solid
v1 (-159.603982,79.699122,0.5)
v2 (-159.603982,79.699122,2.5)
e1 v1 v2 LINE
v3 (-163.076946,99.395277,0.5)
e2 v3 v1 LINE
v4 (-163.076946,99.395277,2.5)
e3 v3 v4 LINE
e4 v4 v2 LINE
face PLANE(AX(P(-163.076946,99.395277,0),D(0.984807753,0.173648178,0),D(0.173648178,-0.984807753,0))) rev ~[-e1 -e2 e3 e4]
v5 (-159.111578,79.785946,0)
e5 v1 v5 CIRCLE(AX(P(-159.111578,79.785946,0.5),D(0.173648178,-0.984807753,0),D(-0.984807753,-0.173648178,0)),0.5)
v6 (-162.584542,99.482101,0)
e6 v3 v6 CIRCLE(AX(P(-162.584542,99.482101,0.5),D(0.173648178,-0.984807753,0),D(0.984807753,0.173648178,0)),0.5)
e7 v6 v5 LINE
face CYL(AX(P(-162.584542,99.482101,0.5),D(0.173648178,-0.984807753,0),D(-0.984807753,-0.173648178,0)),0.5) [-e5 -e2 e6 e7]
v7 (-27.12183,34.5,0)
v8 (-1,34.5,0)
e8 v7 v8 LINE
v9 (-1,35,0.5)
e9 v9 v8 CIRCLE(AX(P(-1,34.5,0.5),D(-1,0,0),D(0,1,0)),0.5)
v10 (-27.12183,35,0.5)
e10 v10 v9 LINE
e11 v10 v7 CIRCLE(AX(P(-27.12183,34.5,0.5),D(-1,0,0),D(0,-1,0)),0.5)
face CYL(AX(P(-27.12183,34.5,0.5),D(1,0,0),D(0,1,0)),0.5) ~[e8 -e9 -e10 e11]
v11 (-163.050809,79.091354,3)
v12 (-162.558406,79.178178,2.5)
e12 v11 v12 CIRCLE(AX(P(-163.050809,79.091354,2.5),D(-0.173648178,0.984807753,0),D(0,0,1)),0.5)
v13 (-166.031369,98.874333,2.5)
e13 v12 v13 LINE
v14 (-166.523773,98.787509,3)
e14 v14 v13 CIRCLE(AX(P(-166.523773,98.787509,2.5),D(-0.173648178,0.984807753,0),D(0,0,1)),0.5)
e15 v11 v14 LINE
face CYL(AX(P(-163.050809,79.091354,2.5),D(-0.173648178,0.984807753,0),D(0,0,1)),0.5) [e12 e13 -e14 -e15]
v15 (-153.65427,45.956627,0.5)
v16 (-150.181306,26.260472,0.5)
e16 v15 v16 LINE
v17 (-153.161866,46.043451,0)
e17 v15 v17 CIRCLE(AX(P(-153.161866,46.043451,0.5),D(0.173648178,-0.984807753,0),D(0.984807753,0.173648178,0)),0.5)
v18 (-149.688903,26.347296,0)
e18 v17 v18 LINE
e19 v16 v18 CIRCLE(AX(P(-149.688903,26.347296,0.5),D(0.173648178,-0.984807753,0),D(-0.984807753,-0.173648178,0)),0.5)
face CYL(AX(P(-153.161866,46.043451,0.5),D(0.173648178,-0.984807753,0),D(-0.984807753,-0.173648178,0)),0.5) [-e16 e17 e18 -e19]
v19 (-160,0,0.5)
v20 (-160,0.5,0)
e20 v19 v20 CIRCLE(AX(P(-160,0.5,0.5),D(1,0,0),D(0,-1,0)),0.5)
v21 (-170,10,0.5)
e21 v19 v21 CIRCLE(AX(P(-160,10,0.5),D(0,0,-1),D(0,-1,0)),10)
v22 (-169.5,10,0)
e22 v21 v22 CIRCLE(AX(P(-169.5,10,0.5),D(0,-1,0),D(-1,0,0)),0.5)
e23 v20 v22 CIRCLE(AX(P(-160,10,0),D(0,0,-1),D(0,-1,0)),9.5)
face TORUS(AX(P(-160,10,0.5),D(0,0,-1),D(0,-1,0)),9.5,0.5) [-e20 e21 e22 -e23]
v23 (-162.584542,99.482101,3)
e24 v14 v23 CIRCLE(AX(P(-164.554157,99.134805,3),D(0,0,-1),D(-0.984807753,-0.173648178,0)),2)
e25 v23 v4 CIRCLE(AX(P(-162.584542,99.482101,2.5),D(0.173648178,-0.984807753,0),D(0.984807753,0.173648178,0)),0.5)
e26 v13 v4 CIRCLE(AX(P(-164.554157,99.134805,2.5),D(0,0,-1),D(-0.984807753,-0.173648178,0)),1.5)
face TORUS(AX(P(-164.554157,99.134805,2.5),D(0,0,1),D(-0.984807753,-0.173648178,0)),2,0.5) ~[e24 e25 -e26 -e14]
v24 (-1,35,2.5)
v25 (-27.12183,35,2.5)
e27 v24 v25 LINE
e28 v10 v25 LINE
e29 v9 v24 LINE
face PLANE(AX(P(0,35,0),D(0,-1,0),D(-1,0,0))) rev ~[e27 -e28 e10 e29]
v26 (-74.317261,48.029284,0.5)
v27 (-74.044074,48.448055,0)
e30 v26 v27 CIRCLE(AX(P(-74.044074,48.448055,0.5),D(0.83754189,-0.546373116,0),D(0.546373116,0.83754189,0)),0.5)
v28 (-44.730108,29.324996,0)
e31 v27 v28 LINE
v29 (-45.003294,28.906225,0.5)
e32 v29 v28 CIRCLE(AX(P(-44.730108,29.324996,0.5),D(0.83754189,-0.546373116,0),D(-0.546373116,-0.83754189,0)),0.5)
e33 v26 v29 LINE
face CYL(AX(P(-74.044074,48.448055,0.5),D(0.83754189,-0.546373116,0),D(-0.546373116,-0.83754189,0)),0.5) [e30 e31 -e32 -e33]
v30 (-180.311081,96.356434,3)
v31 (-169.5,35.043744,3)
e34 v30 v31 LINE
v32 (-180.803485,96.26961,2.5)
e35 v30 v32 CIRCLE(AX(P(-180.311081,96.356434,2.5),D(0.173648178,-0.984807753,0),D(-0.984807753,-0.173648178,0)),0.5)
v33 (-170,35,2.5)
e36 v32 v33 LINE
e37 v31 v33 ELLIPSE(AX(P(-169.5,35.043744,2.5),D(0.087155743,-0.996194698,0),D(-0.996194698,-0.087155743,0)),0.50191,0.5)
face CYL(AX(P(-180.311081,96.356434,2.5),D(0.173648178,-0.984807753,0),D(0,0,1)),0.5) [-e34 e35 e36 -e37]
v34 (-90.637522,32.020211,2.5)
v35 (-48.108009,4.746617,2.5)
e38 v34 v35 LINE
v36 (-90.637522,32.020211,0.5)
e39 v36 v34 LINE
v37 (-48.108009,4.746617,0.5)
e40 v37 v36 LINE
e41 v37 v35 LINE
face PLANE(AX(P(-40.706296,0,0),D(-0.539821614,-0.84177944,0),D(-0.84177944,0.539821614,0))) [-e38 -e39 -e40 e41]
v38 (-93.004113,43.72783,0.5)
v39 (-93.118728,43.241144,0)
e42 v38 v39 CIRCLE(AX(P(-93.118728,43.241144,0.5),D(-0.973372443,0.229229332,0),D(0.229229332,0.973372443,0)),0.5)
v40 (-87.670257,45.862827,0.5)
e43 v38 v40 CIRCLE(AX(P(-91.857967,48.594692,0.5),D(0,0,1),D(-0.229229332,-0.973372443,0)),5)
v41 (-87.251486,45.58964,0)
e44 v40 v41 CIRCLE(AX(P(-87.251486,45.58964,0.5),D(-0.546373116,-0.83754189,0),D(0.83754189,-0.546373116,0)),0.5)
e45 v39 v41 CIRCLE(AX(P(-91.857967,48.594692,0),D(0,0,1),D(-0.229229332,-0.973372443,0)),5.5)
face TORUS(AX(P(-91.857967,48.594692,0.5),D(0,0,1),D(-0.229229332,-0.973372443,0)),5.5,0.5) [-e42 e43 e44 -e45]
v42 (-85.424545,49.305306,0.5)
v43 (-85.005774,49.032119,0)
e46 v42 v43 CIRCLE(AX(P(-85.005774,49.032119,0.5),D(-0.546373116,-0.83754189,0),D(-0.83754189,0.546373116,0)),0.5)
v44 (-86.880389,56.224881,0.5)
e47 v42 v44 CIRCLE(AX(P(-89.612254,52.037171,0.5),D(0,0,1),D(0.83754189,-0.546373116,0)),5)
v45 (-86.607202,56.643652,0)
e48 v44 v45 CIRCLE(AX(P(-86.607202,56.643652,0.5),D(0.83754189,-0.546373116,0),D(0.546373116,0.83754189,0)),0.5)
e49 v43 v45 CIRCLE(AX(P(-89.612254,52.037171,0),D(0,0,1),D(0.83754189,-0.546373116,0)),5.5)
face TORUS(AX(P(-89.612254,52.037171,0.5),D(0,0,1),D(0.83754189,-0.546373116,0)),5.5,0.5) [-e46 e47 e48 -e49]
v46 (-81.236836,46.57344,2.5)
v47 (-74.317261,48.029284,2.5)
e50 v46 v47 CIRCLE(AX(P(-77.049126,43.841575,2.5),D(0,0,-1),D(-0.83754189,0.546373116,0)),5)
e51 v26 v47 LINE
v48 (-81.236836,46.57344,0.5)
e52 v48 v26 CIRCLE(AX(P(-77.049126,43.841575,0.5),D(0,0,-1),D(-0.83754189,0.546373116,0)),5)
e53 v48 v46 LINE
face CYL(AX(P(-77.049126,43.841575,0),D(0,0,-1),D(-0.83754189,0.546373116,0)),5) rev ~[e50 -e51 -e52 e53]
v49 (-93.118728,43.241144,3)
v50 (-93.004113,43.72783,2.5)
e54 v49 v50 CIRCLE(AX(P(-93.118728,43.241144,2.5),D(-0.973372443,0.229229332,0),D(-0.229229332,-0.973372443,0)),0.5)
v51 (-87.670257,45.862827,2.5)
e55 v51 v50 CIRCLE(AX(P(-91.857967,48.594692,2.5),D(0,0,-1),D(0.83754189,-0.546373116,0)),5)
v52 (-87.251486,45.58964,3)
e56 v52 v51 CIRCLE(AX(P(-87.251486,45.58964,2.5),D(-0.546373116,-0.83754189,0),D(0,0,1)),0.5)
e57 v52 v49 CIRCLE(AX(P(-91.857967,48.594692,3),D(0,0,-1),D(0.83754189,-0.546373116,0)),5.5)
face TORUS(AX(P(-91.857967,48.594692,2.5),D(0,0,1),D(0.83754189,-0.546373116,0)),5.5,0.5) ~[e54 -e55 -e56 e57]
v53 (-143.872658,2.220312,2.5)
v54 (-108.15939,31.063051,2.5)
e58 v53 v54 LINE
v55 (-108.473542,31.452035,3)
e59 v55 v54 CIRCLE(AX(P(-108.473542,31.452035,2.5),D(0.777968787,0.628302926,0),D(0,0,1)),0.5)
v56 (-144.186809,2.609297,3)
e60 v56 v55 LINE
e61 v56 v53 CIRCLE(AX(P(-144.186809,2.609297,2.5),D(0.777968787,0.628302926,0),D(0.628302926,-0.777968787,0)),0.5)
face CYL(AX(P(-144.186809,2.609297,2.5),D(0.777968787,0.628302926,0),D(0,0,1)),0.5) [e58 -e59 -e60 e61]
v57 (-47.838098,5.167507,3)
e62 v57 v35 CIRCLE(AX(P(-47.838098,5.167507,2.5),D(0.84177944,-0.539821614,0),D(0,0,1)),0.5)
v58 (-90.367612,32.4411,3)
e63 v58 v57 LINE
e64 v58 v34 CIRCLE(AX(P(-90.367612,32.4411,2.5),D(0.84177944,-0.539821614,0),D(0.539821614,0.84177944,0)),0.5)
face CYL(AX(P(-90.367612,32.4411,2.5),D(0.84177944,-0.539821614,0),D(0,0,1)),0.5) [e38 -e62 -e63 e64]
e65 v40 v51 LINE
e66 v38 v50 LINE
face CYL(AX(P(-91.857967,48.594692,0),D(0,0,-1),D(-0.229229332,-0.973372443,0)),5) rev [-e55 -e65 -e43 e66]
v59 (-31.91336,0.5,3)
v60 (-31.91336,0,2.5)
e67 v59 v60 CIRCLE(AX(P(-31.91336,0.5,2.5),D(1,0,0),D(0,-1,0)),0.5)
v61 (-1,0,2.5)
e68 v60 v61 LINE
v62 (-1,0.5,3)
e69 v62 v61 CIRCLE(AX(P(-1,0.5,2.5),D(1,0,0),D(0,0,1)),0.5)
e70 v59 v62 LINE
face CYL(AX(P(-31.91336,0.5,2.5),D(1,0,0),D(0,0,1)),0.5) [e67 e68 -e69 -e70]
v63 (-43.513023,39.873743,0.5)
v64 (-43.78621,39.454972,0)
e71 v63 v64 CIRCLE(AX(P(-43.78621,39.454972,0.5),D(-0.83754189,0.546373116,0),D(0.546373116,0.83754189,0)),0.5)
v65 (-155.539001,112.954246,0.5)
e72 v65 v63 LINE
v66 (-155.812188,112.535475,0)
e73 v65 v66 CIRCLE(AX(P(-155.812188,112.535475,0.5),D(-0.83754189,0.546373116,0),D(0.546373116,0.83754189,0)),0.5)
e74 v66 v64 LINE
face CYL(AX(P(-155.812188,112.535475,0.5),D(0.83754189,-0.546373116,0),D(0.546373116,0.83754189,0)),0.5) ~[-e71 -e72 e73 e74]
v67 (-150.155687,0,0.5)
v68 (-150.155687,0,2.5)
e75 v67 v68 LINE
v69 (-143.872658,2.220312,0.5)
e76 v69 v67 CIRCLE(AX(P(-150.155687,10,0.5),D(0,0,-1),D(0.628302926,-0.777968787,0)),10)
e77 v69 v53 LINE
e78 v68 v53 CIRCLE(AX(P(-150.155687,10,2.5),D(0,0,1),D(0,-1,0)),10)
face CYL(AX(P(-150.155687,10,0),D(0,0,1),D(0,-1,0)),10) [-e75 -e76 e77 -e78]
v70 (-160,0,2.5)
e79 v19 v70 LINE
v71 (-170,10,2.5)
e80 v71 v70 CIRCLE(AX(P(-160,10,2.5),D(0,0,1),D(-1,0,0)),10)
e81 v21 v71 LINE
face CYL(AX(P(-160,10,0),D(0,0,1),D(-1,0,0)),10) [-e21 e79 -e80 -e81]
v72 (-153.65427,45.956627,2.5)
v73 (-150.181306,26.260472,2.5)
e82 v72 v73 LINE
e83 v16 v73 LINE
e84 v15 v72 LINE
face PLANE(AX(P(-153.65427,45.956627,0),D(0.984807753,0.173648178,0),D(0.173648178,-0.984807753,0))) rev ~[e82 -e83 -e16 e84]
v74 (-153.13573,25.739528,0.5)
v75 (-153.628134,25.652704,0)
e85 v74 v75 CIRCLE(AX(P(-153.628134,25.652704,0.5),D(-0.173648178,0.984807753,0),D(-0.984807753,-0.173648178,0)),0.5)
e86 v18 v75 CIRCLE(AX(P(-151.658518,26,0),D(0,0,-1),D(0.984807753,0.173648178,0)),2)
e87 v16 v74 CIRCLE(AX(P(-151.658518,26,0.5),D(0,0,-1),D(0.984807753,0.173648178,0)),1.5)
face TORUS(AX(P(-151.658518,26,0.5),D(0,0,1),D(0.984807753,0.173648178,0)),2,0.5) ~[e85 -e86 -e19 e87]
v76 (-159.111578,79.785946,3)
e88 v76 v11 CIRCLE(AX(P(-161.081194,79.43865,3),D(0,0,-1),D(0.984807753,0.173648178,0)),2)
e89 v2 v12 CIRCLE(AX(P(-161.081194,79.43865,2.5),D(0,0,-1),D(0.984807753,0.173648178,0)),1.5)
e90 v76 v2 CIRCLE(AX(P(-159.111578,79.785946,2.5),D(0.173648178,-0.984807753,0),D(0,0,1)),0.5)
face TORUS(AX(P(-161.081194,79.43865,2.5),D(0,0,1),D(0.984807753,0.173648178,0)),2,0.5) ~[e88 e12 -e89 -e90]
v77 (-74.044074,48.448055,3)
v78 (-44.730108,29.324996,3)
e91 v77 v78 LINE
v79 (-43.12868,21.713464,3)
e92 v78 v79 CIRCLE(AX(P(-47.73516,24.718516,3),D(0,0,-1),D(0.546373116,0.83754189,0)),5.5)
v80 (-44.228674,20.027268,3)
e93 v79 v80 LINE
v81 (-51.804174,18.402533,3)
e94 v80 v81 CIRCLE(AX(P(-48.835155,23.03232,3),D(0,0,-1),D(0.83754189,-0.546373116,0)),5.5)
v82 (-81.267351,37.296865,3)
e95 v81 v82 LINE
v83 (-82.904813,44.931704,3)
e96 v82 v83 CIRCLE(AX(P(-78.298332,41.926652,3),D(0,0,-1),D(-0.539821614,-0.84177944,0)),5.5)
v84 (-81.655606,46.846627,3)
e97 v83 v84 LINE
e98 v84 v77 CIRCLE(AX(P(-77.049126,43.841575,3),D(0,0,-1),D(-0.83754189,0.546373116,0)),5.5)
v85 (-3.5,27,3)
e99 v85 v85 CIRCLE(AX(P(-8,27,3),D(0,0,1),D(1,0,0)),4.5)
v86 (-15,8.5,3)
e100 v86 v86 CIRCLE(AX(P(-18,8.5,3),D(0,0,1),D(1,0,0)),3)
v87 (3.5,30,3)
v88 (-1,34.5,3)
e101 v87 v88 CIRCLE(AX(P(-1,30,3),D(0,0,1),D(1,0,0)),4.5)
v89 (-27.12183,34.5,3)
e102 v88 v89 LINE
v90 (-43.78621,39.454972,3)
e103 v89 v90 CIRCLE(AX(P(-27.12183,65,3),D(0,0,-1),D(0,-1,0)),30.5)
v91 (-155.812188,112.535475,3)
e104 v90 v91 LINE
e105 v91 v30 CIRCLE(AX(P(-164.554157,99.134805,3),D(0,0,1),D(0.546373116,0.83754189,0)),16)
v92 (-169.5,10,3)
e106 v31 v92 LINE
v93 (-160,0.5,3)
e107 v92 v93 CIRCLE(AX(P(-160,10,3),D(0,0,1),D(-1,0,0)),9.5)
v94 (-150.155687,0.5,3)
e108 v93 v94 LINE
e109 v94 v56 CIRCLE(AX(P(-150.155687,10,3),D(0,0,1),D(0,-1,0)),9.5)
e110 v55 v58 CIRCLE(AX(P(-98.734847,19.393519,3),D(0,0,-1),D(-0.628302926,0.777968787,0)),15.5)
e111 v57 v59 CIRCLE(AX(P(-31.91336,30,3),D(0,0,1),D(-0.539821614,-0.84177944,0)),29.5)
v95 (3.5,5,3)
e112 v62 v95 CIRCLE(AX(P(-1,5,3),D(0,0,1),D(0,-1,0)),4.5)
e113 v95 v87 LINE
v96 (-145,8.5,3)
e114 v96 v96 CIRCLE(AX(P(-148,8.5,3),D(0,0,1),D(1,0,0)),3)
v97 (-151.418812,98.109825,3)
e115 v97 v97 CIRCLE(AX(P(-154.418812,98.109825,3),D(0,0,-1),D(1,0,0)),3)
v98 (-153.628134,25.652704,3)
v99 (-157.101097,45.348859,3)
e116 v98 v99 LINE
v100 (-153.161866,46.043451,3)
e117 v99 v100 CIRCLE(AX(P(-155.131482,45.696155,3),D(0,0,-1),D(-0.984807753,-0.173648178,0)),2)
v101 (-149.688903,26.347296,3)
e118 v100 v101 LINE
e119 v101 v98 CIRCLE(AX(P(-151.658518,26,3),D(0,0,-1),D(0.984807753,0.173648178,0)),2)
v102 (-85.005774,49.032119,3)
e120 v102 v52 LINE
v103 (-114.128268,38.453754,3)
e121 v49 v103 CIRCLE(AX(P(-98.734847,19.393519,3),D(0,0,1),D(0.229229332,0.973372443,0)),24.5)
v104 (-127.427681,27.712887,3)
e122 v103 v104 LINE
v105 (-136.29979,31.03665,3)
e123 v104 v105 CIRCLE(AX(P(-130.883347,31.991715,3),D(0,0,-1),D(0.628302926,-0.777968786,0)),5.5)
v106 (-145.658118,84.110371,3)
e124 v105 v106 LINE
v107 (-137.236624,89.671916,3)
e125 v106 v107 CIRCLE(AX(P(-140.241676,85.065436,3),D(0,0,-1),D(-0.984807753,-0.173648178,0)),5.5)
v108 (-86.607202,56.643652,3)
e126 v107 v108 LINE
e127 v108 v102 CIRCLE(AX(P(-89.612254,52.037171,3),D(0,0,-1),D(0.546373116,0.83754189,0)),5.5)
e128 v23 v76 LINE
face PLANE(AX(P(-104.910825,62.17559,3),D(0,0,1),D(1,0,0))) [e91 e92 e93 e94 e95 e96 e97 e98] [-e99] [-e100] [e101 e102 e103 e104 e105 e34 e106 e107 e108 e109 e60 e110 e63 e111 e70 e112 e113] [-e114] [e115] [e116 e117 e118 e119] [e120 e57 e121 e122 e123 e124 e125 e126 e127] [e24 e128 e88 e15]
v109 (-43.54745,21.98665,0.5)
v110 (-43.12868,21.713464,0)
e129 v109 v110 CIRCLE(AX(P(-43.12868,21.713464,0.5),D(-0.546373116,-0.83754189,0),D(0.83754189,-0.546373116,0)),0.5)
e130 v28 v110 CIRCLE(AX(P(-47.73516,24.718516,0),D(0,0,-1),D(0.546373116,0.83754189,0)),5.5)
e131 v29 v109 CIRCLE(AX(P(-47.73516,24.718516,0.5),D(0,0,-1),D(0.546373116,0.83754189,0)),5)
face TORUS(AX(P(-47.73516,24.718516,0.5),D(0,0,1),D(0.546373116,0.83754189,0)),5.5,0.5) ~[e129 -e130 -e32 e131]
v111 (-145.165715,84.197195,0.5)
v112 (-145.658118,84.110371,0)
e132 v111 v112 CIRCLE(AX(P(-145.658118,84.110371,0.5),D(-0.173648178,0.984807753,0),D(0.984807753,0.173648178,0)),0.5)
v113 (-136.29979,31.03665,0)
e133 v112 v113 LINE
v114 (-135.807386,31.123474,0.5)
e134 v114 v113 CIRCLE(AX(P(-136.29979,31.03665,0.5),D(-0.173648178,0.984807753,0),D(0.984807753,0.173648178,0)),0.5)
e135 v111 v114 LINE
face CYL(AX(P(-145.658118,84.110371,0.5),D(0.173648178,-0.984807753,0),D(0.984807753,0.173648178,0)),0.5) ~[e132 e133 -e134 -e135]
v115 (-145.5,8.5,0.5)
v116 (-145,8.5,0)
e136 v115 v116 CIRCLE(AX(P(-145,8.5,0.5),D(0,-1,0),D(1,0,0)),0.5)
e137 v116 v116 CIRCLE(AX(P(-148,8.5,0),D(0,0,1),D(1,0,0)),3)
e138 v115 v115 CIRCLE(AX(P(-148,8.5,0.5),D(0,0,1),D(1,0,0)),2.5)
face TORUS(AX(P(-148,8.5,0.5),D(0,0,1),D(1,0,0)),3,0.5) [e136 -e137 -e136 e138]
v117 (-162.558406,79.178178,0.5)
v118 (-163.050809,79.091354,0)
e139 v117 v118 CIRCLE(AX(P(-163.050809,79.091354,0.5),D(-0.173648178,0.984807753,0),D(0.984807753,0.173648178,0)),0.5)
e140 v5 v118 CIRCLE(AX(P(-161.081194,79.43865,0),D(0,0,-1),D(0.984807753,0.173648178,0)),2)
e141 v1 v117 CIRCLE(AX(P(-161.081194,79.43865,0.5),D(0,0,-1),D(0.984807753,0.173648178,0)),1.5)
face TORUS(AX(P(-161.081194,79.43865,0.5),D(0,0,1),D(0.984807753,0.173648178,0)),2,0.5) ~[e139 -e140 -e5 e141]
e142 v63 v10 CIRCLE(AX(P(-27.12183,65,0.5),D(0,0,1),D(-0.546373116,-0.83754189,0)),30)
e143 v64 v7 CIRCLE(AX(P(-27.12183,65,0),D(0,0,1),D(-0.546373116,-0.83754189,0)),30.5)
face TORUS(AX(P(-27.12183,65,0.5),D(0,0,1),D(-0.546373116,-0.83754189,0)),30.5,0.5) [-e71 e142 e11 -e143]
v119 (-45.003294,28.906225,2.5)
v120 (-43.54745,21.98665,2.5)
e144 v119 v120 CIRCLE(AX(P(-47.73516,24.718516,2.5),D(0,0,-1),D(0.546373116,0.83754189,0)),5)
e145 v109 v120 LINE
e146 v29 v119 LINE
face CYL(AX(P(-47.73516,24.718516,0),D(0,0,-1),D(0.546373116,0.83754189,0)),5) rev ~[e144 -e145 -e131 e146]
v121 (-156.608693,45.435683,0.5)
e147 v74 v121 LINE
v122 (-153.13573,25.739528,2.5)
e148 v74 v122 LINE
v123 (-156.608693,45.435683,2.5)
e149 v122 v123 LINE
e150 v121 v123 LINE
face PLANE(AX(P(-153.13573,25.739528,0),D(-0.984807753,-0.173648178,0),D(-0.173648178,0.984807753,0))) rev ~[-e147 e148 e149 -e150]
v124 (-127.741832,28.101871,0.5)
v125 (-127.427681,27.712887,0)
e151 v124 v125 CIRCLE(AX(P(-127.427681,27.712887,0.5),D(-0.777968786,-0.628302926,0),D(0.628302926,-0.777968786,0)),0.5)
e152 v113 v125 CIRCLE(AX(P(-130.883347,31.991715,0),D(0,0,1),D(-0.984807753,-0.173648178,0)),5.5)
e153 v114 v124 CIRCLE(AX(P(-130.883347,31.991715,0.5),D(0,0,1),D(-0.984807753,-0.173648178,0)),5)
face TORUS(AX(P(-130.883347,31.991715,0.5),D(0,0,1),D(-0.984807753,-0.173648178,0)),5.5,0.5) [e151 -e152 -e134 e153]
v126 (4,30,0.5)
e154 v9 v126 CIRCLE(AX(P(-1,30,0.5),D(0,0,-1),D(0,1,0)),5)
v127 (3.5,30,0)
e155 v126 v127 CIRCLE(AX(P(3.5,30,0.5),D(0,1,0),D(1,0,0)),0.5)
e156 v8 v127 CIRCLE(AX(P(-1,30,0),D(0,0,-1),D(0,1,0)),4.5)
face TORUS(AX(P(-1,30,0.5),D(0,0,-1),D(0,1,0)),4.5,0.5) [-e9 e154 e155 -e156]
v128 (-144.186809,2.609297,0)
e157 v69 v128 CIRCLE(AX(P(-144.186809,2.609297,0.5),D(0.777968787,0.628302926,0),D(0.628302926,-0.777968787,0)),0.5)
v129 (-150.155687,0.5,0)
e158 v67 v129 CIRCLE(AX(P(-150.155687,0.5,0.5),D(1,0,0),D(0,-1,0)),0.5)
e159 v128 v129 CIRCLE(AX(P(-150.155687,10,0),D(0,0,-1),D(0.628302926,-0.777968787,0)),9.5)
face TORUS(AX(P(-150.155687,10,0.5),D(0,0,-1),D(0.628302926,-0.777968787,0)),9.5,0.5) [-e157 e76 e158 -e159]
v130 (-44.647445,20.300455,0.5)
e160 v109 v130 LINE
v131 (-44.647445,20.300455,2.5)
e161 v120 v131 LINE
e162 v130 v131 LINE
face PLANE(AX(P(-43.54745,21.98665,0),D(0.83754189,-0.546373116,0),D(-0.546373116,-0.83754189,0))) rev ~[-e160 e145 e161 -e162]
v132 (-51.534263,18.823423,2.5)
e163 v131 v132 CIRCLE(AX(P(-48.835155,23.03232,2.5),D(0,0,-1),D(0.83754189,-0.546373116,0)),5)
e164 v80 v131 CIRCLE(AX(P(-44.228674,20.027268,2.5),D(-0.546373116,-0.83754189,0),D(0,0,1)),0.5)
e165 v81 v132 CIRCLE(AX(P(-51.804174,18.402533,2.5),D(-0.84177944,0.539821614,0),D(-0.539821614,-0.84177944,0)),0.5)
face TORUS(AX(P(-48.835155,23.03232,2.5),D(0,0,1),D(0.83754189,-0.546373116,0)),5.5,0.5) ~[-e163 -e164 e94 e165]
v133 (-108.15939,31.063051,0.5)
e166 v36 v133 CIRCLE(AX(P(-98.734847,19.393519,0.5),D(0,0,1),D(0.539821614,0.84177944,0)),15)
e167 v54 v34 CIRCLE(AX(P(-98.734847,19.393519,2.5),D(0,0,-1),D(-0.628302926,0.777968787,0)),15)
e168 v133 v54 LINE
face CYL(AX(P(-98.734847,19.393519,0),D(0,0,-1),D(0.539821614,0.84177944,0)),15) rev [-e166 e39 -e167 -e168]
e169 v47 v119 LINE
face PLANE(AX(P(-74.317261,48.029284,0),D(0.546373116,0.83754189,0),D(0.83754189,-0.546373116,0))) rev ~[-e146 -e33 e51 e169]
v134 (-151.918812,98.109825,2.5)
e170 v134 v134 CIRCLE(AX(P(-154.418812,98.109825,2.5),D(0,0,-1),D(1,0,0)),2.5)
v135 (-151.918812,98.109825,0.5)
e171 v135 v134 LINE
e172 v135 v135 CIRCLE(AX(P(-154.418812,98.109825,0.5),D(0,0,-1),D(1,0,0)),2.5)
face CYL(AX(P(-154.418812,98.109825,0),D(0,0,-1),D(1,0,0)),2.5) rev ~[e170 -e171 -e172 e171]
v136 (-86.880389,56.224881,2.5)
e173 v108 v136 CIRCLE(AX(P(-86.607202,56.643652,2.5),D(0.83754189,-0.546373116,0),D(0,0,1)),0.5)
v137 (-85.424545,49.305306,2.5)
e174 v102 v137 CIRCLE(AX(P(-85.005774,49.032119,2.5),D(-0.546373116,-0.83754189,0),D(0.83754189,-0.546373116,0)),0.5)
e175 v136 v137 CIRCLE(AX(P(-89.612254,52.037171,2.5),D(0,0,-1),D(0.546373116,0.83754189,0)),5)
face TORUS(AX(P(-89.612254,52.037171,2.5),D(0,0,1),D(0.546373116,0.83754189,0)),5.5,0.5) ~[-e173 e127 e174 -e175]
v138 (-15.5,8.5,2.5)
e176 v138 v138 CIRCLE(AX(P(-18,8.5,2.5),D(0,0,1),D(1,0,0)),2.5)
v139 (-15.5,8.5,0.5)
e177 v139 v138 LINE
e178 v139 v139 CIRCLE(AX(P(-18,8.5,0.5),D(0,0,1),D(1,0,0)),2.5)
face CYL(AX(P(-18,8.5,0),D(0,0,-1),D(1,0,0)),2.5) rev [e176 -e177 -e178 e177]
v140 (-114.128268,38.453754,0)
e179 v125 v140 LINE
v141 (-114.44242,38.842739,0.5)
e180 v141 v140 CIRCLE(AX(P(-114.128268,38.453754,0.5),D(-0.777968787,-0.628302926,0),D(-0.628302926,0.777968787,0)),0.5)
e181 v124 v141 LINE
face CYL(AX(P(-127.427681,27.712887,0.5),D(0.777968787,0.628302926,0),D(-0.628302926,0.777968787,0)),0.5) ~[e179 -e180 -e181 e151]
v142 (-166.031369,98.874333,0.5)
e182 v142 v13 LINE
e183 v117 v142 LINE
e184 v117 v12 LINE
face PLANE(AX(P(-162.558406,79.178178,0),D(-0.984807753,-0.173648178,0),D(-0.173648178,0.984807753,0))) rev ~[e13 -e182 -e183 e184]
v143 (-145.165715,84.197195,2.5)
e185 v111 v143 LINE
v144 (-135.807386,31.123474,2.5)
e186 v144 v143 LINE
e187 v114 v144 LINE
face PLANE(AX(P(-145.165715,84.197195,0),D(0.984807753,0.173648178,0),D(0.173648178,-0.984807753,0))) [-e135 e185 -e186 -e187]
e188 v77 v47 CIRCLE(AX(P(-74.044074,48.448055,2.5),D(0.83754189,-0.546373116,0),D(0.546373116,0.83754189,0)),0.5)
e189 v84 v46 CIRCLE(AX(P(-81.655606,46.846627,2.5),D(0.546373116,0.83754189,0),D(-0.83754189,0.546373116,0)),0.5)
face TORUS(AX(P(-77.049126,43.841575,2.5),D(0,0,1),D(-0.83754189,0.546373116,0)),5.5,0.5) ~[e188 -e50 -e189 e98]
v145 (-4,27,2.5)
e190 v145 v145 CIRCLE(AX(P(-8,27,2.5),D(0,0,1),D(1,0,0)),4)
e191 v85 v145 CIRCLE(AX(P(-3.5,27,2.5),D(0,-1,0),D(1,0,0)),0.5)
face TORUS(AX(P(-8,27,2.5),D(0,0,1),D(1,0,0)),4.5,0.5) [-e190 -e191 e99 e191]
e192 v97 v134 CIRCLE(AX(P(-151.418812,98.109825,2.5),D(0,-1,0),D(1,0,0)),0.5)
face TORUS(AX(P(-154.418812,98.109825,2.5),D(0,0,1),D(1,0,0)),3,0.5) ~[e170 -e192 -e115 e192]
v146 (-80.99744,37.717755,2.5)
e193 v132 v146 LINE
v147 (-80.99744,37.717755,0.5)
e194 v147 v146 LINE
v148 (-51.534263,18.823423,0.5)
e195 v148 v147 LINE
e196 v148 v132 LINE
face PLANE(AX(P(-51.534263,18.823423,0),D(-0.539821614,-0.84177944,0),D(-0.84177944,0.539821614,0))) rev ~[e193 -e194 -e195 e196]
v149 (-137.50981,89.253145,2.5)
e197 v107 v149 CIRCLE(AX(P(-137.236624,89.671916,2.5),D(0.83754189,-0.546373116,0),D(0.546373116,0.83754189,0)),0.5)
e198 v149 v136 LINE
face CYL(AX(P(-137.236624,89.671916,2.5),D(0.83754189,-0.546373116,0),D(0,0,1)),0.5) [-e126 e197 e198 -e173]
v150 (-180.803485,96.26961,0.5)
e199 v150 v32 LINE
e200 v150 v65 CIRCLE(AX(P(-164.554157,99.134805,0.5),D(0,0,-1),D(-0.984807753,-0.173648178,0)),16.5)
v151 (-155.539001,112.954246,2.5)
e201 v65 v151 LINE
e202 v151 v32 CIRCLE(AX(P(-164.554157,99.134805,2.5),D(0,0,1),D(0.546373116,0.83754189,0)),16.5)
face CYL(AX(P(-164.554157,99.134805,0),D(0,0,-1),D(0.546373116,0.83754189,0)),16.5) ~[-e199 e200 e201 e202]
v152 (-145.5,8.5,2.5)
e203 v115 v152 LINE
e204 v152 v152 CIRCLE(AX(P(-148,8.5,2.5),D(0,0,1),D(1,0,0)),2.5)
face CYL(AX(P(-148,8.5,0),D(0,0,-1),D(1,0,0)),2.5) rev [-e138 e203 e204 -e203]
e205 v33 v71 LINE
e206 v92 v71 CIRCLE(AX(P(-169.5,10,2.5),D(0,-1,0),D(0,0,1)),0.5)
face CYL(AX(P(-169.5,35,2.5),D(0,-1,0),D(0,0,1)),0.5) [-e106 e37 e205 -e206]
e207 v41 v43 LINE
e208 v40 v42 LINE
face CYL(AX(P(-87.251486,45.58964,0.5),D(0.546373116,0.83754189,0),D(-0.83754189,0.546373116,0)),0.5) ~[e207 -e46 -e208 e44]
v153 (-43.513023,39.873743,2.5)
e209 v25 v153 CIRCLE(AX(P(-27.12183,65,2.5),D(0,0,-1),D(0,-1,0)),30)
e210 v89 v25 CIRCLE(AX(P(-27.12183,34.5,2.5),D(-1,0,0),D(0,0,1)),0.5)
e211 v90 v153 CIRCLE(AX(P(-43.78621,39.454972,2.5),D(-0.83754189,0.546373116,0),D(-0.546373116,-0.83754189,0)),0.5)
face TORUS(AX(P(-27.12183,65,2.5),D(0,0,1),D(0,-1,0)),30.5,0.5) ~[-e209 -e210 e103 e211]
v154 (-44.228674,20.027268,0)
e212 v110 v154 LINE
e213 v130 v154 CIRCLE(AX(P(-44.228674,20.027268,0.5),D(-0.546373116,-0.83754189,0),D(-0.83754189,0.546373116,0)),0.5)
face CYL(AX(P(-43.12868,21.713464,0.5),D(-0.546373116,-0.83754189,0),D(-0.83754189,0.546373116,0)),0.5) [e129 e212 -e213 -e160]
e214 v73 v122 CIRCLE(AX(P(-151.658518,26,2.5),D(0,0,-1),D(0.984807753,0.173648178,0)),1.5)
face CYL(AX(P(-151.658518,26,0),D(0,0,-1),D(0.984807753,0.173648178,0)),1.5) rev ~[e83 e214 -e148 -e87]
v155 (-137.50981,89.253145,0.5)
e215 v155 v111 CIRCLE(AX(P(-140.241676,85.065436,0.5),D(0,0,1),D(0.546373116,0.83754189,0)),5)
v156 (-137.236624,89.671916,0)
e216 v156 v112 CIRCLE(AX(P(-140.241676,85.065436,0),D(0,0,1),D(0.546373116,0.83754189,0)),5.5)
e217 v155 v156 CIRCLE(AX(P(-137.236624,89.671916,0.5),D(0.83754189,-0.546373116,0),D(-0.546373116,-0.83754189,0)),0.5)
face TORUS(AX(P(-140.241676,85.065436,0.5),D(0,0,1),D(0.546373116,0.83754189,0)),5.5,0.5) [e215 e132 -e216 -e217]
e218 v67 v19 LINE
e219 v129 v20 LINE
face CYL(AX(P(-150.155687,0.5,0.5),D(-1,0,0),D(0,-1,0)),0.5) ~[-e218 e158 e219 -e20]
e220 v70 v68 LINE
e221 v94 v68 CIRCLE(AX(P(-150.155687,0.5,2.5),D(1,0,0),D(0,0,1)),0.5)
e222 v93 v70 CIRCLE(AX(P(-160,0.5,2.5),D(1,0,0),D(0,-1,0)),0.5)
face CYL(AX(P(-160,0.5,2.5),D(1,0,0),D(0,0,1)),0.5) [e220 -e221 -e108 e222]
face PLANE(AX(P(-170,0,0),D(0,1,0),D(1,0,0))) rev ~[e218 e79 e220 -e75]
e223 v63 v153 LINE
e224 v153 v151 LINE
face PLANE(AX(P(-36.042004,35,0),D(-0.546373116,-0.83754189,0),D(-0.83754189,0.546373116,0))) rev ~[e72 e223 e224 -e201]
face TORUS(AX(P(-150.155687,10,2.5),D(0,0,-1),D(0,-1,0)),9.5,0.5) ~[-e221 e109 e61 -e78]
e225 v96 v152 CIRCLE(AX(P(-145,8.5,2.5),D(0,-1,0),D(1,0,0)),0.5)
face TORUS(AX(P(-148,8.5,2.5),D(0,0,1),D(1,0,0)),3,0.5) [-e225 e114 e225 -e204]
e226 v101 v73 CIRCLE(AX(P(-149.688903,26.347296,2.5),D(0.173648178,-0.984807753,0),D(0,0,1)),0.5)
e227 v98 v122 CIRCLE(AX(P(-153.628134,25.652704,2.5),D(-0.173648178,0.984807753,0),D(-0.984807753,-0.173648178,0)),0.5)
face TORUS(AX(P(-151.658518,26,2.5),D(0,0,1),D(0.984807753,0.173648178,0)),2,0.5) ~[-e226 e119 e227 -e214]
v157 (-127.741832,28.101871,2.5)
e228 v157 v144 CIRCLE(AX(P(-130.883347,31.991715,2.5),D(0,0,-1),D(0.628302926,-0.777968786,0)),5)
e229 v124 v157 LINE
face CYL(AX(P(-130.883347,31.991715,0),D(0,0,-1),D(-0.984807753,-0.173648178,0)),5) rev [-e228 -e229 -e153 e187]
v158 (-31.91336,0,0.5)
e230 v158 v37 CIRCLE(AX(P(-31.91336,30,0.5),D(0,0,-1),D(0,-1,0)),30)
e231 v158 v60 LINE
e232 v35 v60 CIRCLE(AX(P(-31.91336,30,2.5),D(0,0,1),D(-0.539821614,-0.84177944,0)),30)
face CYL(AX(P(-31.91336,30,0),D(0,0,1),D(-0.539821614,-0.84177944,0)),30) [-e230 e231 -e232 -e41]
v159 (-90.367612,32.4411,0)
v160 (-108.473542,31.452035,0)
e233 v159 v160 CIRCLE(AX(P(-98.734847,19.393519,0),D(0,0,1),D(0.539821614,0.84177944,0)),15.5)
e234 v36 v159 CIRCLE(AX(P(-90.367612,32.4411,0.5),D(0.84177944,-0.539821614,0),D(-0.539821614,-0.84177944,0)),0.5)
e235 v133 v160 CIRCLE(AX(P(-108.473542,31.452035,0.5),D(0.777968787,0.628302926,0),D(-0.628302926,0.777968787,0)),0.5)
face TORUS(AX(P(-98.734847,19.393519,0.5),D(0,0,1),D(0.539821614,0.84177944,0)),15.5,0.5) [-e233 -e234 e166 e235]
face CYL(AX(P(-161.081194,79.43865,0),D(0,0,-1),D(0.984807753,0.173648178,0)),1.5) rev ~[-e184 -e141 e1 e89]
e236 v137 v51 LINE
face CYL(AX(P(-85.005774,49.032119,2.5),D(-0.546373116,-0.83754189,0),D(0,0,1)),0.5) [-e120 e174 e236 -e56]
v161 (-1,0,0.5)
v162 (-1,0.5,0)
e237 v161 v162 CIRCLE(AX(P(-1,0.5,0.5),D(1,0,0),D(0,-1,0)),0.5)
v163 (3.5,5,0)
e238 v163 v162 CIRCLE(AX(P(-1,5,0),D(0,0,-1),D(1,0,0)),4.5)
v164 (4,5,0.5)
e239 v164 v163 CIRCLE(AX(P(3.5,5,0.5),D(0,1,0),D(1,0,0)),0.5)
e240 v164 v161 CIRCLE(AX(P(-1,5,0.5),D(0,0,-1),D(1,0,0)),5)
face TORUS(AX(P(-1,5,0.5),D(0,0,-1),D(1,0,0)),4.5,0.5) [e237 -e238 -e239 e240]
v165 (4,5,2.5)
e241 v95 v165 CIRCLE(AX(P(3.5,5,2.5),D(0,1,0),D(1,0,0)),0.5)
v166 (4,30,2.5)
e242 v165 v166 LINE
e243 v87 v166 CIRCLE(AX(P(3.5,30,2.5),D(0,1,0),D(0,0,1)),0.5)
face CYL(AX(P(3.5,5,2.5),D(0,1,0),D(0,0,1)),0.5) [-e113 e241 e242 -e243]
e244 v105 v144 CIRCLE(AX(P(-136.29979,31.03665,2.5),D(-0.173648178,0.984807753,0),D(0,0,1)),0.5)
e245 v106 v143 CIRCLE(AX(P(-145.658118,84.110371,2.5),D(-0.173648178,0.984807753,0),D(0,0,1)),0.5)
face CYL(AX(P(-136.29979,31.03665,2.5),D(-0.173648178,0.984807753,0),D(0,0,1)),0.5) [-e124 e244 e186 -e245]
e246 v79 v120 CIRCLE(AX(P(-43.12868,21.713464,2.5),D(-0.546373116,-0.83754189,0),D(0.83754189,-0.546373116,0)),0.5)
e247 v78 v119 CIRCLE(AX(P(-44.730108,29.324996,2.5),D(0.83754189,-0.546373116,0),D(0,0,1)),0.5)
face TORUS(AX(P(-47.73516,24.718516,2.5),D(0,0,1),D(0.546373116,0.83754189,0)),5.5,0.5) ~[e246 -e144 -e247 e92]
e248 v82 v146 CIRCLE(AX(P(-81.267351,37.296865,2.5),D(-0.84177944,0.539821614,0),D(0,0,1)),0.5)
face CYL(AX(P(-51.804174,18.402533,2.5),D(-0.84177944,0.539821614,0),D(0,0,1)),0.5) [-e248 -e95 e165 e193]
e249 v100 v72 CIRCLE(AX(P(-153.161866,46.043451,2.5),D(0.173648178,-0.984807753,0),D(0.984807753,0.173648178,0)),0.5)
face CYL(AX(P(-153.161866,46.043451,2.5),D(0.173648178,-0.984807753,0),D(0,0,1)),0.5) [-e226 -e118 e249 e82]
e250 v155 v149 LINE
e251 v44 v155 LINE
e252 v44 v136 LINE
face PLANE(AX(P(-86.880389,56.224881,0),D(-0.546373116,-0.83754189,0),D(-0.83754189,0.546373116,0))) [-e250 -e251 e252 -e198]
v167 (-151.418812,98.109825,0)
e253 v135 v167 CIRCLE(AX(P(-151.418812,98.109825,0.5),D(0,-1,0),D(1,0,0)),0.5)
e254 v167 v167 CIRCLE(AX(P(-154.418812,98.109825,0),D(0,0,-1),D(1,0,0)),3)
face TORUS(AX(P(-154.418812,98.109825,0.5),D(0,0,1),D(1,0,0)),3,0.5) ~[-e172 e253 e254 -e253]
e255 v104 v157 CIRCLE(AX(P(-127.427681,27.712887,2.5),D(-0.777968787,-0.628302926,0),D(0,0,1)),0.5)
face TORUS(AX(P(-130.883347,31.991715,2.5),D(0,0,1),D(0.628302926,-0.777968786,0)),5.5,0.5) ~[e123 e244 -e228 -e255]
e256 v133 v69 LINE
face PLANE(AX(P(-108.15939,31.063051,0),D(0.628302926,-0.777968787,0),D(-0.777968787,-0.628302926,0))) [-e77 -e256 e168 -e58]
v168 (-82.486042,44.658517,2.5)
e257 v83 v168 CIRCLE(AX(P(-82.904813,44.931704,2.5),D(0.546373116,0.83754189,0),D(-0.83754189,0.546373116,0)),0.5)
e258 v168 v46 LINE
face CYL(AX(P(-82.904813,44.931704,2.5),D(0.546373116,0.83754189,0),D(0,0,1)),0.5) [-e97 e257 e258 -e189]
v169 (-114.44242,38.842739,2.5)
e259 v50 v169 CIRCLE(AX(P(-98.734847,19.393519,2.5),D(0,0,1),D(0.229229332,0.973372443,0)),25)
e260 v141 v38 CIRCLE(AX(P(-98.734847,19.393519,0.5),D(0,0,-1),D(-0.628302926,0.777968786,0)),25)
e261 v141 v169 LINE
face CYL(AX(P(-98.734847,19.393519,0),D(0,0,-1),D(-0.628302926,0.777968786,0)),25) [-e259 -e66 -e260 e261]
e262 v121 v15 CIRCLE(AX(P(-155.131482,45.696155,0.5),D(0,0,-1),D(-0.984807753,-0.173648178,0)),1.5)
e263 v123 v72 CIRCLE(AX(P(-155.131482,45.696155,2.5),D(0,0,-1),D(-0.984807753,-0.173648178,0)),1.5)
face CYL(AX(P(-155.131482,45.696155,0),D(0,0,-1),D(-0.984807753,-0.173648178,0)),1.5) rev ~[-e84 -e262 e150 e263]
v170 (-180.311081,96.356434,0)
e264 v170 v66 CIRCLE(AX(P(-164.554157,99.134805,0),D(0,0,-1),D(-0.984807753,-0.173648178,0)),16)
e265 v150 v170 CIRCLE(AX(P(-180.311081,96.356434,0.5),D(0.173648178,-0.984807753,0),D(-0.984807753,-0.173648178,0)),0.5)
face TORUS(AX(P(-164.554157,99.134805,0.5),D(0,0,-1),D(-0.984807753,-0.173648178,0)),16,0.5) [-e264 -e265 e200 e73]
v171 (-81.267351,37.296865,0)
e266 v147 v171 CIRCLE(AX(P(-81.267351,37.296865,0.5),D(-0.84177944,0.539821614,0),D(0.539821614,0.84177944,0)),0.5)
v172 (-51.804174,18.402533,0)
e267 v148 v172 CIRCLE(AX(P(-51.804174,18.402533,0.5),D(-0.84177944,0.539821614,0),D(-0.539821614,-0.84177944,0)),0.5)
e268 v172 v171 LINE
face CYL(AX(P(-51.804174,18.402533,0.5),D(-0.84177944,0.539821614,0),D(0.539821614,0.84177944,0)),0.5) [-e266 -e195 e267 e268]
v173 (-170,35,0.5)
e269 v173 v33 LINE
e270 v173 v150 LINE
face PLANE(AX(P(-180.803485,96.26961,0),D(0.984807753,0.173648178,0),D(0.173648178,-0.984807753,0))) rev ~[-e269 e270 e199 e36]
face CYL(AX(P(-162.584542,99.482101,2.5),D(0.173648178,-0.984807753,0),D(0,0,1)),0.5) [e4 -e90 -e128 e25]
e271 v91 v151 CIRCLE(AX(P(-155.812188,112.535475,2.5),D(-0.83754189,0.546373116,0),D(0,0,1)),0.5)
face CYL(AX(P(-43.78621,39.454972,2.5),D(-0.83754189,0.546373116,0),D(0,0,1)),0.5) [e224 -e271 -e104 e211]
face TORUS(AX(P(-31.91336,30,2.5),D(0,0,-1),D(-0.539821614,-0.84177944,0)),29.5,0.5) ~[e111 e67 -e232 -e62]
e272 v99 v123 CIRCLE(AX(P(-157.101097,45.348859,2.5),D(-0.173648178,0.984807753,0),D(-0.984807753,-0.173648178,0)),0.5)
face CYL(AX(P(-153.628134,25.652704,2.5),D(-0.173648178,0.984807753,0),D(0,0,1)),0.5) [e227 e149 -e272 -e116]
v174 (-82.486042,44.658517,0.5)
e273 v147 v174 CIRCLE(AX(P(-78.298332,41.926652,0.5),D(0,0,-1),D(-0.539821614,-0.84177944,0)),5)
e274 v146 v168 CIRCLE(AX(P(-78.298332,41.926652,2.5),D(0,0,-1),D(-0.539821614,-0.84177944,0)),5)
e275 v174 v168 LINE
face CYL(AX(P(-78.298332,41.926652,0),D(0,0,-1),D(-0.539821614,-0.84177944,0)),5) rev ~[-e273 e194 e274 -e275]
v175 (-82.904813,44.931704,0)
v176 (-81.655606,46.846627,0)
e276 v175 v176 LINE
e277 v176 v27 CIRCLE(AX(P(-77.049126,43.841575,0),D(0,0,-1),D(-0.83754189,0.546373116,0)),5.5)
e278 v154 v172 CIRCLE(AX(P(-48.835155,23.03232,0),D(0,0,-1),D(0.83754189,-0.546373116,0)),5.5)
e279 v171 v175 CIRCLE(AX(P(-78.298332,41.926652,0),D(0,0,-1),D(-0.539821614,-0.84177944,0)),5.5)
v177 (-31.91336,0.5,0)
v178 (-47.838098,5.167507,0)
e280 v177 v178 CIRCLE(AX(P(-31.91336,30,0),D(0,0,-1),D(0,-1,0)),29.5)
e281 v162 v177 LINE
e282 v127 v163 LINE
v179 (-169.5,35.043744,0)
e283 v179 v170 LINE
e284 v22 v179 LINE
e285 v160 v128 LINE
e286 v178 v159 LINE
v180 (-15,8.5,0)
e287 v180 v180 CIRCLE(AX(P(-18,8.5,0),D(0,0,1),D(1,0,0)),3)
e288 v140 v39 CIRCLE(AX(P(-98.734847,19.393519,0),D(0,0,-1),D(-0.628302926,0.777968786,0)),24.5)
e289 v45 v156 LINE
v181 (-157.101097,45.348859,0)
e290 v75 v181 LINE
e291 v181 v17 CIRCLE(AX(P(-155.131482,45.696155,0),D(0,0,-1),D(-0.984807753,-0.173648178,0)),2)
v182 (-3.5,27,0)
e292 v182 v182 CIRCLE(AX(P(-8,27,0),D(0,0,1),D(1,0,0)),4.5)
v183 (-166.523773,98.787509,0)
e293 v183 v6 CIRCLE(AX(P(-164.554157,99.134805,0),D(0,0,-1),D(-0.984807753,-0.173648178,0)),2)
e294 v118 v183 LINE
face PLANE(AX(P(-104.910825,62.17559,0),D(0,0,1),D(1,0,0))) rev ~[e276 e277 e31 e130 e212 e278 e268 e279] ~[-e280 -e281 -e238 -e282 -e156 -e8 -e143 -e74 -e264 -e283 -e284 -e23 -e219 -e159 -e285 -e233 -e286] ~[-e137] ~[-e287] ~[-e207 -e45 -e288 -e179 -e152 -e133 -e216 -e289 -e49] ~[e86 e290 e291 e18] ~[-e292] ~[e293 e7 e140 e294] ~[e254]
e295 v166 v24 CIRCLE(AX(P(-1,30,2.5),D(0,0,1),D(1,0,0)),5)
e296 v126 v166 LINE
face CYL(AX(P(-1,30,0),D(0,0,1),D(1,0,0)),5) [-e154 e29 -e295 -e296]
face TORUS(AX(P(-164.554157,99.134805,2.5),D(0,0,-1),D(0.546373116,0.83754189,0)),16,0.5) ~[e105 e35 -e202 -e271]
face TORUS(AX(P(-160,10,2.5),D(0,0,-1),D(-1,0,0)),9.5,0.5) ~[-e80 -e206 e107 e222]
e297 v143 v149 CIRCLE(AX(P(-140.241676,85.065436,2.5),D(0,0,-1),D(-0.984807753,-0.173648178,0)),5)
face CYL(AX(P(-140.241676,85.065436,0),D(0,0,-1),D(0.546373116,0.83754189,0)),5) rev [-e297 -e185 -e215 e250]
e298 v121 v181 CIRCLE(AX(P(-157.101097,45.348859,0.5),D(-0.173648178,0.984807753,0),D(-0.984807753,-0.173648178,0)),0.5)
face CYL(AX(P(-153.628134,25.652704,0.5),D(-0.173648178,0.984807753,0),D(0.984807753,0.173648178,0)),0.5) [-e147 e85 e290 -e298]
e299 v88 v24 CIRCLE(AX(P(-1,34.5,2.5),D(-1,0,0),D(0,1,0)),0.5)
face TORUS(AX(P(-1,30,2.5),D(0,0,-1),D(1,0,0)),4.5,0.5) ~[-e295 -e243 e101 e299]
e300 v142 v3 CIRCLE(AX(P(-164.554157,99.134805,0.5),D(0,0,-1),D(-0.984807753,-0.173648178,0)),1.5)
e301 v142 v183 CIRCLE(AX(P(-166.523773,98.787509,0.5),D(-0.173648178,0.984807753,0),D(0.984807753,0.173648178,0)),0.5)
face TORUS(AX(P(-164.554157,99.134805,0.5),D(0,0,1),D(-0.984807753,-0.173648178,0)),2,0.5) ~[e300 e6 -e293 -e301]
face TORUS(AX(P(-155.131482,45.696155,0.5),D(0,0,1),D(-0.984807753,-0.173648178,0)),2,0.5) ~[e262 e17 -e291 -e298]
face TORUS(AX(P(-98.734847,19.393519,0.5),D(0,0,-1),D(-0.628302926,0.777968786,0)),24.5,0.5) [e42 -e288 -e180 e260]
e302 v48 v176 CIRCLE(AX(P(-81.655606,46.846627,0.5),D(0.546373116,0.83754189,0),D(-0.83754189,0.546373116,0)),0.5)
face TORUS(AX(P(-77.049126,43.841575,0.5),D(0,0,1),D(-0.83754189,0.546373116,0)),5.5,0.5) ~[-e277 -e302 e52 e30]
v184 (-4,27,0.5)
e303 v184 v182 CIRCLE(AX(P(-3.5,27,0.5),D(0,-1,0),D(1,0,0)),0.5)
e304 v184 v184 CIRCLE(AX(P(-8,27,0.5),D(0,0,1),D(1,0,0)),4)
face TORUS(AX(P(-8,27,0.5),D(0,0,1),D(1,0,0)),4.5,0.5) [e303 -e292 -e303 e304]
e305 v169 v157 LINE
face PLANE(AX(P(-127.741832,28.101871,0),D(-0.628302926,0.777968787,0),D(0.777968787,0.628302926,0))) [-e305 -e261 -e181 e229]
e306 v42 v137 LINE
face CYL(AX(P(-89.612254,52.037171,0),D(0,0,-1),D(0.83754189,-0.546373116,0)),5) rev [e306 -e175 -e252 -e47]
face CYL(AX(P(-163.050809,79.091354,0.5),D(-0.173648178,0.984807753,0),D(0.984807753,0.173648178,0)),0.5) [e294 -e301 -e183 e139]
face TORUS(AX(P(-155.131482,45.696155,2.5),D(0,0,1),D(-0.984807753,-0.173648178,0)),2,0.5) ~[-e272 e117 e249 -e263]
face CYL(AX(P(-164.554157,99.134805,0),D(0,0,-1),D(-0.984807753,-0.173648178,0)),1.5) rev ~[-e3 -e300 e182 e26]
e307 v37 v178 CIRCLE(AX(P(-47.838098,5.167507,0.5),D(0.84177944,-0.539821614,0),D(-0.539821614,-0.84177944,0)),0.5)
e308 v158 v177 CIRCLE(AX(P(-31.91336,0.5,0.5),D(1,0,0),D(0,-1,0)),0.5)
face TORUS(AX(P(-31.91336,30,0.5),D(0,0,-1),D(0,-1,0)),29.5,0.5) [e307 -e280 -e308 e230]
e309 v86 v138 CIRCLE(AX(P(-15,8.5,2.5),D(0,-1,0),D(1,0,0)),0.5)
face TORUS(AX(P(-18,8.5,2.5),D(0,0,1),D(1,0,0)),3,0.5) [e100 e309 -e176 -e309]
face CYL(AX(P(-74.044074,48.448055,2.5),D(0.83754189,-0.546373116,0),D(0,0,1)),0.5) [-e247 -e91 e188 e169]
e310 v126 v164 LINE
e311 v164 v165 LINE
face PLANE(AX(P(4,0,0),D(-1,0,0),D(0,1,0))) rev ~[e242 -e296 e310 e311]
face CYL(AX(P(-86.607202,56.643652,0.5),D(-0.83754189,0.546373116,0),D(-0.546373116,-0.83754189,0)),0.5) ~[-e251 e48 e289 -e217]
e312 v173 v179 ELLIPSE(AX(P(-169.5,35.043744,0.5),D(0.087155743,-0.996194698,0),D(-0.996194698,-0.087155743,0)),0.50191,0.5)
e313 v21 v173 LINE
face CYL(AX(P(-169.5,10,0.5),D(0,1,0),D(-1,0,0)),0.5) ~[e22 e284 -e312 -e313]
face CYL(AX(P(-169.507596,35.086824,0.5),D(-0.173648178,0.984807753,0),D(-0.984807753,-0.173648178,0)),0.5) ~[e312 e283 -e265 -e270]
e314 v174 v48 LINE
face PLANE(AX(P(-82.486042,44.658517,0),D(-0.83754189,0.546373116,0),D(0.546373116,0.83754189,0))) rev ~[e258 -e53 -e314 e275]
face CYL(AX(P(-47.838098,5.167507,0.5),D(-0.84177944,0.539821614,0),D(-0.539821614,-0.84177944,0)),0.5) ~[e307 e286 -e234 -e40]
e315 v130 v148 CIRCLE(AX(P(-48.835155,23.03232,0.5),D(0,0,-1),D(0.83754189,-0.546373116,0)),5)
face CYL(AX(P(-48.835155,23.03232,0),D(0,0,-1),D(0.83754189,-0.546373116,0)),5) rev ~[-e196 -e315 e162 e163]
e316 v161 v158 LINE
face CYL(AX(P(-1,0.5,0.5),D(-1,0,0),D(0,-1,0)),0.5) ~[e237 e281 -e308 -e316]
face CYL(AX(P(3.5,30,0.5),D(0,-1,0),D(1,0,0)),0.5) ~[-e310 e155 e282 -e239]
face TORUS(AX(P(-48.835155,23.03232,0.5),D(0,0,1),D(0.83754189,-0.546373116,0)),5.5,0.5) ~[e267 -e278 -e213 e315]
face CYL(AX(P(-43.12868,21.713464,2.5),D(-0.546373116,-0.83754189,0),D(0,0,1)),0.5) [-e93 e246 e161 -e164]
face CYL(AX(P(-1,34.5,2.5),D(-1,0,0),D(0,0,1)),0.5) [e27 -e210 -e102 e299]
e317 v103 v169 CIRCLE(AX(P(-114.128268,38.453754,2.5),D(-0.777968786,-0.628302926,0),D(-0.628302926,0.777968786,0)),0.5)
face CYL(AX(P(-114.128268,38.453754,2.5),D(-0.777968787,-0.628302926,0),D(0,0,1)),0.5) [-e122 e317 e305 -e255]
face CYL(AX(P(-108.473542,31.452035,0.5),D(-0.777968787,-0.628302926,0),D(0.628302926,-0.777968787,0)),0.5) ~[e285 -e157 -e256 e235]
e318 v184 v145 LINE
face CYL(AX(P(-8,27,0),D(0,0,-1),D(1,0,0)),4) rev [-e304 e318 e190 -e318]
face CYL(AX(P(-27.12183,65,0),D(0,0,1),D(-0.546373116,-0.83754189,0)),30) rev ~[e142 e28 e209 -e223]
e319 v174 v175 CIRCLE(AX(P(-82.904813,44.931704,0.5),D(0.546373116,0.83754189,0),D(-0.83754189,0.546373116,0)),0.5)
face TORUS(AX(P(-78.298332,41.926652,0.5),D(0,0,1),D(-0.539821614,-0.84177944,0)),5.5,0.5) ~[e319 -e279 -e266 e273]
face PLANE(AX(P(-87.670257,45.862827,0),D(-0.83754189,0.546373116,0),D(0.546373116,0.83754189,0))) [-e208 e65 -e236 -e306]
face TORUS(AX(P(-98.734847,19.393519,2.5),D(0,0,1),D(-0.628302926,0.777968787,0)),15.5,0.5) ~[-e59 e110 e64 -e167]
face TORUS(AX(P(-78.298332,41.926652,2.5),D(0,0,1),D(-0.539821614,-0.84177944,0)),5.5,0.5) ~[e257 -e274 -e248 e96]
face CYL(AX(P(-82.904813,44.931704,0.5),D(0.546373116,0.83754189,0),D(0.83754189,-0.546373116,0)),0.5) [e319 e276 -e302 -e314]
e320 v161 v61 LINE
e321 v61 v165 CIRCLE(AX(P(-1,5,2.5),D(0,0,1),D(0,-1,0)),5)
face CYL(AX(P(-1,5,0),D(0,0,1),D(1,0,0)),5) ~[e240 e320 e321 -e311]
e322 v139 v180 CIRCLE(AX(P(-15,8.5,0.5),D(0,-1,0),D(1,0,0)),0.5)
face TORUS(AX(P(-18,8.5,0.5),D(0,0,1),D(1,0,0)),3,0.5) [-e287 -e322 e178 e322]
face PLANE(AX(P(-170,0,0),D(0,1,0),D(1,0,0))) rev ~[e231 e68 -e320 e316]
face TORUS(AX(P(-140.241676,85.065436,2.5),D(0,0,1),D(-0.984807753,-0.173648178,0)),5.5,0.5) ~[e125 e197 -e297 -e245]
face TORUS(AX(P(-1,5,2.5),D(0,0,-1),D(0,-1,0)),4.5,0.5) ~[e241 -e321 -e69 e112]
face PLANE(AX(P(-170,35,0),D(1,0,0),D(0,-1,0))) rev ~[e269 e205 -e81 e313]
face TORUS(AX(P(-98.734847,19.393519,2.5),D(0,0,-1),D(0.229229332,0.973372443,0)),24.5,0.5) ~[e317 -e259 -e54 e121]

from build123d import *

# Parameters (mm, degrees)
SKETCH1_R           = 2.5
SKETCH1_R_2         = 4
BOSS_EXTRUDE1_DEPTH = 3
FILLET1_R           = 5
CUT_EXTRUDE1_DEPTH  = 10
CUT_EXTRUDE2_DEPTH  = 10
FILLET3_R           = 30
FILLET4_R           = 10
FILLET5_R           = 0.5
SKETCH4_R           = 2.5
CUT_EXTRUDE3_DEPTH  = 10
FILLET6_R           = 0.5


with BuildPart() as part:
    # Sketch1 → Boss-Extrude1 (new body)
    # profile 1 of 3: a face of its own
    with BuildSketch(Plane.XY):
        with BuildLine():
            Line((0, 21.354191767), (0, 35))
            Line((0, 35), (-36.042003765, 35))
            Line((-36.042003765, 35), (-47.769437248, 35))
            Line((-47.769437248, 35), (-136.490921808, 35))
            Line((-136.490921808, 35), (-148.304829515, 102))
            ThreePointArc((-148.304829515, 102), (-150.785627379, 108.227526332), (-155.539001023, 112.954246258))
            ThreePointArc((-155.539001023, 112.954246258), (-173.646878703, 112.903335129), (-180.803485365, 96.269610137))
            Line((-180.803485365, 96.269610137), (-170, 35))
            Line((-170, 35), (-170, 0))
            Line((-170, 0), (0, 0))
            Line((0, 0), (0, 21.354191767))
        make_face()
        with Locations((-148, 8.5)):
            Circle(SKETCH1_R, mode=Mode.SUBTRACT)
        with BuildLine():
            ThreePointArc((-156.60869326, 45.435682794), (-155.391953897, 47.17336669), (-153.654270001, 45.956627327))
            Line((-153.654270001, 45.956627327), (-150.181306448, 26.260472267))
            ThreePointArc((-150.181306448, 26.260472267), (-151.398045811, 24.52278837), (-153.135729707, 25.739527733))
            Line((-153.135729707, 25.739527733), (-156.60869326, 45.435682794))
        make_face(mode=Mode.SUBTRACT)
        with Locations((-18, 8.5)):
            Circle(SKETCH1_R, mode=Mode.SUBTRACT)
        with Locations((-8, 27)):
            Circle(SKETCH1_R_2, mode=Mode.SUBTRACT)
        with BuildLine():
            Line((-162.558405516, 79.178177742), (-166.031369069, 98.874332802))
            ThreePointArc((-166.031369069, 98.874332802), (-164.814629706, 100.612016698), (-163.07694581, 99.395277335))
            Line((-163.07694581, 99.395277335), (-159.603982257, 79.699122275))
            ThreePointArc((-159.603982257, 79.699122275), (-160.82072162, 77.961438379), (-162.558405516, 79.178177742))
        make_face(mode=Mode.SUBTRACT)
    # profile 2 of 3: a face of its own
    with BuildSketch(Plane.XY):
        Polygon((4, 35), (0, 35), (0, 21.354191767), (0, 0), (4, 0), align=None)
    # profile 3 of 3: a face of its own
    with BuildSketch(Plane.XY):
        with BuildLine():
            Line((-47.769437248, 35), (-36.042003765, 35))
            Line((-36.042003765, 35), (-155.539001023, 112.954246258))
            ThreePointArc((-155.539001023, 112.954246258), (-150.785627379, 108.227526332), (-148.304829515, 102))
            Line((-148.304829515, 102), (-136.490921808, 35))
            Line((-136.490921808, 35), (-47.769437248, 35))
        make_face()
    extrude(amount=BOSS_EXTRUDE1_DEPTH)

    # Fillet1
    fillet1_edges = [part.edges().sort_by_distance(p)[0] for p in [
        (4, 0, 1.5),
        (4, 35, 1.5),
    ]]
    fillet(fillet1_edges, radius=FILLET1_R)

    # Sketch2 → Cut-Extrude1 (cut)
    with BuildSketch(Plane.XY):
        with BuildLine():
            Line((-40.706296183, 0), (-90.637522318, 32.020210753))
            ThreePointArc((-90.637522318, 32.020210753), (-99.553025445, 34.371188642), (-108.159390419, 31.063050953))
            Line((-108.159390419, 31.063050953), (-146.621862967, 0))
            Line((-146.621862967, 0), (-40.706296183, 0))
        make_face()
    extrude(amount=CUT_EXTRUDE1_DEPTH, mode=Mode.SUBTRACT)

    # Sketch3 → Cut-Extrude2 (cut)
    with BuildSketch(Plane(origin=(0, 0, 0), x_dir=(-1, 0, 0), z_dir=(0, 0, -1))):
        with BuildLine():
            Line((74.317260508, 48.029284178), (45.003294349, 28.906225112))
            ThreePointArc((45.003294349, 28.906225112), (42.842281502, 25.747952734), (43.547450479, 21.98665008))
            Line((43.547450479, 21.98665008), (44.647445431, 20.30045465))
            ThreePointArc((44.647445431, 20.30045465), (47.786637301, 18.143495128), (51.534262951, 18.823423031))
            Line((51.534262951, 18.823423031), (80.997440189, 37.717754648))
            ThreePointArc((80.997440189, 37.717754648), (83.187157223, 40.878134265), (82.486041572, 44.658517428))
            Line((82.486041572, 44.658517428), (81.23683554, 46.573440307))
            ThreePointArc((81.23683554, 46.573440307), (78.078563162, 48.734453155), (74.317260508, 48.029284178))
        make_face()
        with BuildLine():
            Line((145.165714603, 84.19719467), (135.807385698, 31.12347409))
            ThreePointArc((135.807385698, 31.12347409), (132.637447646, 27.309500685), (127.741832302, 28.101871046))
            Line((127.741832302, 28.101871046), (114.442419683, 38.842738818))
            ThreePointArc((114.442419683, 38.842738818), (104.289156832, 43.768704017), (93.004113234, 43.72783024))
            ThreePointArc((93.004113234, 43.72783024), (89.999922251, 43.952745528), (87.670257125, 45.862826876))
            Line((87.670257125, 45.862826876), (85.424544992, 49.305305888))
            ThreePointArc((85.424544992, 49.305305888), (84.719376015, 53.066608542), (86.880388862, 56.22488092))
            Line((86.880388862, 56.22488092), (137.509810257, 89.253145009))
            ThreePointArc((137.509810257, 89.253145009), (142.997045918, 89.237717395), (145.165714603, 84.19719467))
        make_face()
    extrude(amount=-CUT_EXTRUDE2_DEPTH, mode=Mode.SUBTRACT)

    # Fillet3
    fillet3_edges = [part.edges().sort_by_distance(p)[0] for p in [
        (-40.706296183, 0, 1.5),
        (-36.042003765, 35, 1.5),
    ]]
    fillet(fillet3_edges, radius=FILLET3_R)

    # Fillet4
    fillet4_edges = [part.edges().sort_by_distance(p)[0] for p in [
        (-146.621862967, 0, 1.5),
        (-170, 0, 1.5),
    ]]
    fillet(fillet4_edges, radius=FILLET4_R)

    # Fillet5
    fillet5_edges = [part.edges().sort_by_distance(p)[0] for p in [
        (-126.016024201, 16.641681544, 0),
        (-146.823786785, 0.571403109, 0),
        (-99.553025445, 34.371188642, 0),
        (-155.077843623, 0, 0),
        (-69.372765546, 18.383413779, 0),
        (-167.071067812, 2.928932188, 0),
        (-40.351325286, 1.211100266, 0),
        (-170, 22.5, 0),
        (-16.45668018, 0, 0),
        (-175.401742682, 65.634805068, 0),
        (2.535533906, 1.464466094, 0),
        (-173.646878703, 112.903335129, 0),
        (4, 17.5, 0),
        (-99.526012112, 76.413994775, 0),
        (2.535533906, 33.535533906, 0),
        (-35.672043127, 36.244237958, 0),
        (-14.060914857, 35, 0),
        (-150.5, 8.5, 0),
        (-155.391953897, 47.17336669, 0),
        (-154.872211484, 35.587605264, 0),
        (-151.917788225, 36.108549797, 0),
        (-151.398045811, 24.52278837, 0),
        (-20.5, 8.5, 0),
        (-12, 27, 0),
        (-78.078563162, 48.734453155, 0),
        (-81.861438556, 45.615978867, 0),
        (-83.187157223, 40.878134265, 0),
        (-66.26585157, 28.27058884, 0),
        (-47.786637301, 18.143495128, 0),
        (-44.097447955, 21.143552365, 0),
        (-42.842281502, 25.747952734, 0),
        (-59.660277429, 38.467754645, 0),
        (-140.486550151, 57.66033438, 0),
        (-132.637447646, 27.309500685, 0),
        (-121.092125992, 33.472304932, 0),
        (-104.289156832, 43.768704017, 0),
        (-89.999922251, 43.952745528, 0),
        (-86.547401058, 47.584066382, 0),
        (-84.719376015, 53.066608542, 0),
        (-112.19509956, 72.739012965, 0),
        (-142.997045918, 89.237717395, 0),
        (-164.294887293, 89.026255272, 0),
        (-160.82072162, 77.961438379, 0),
        (-164.814629706, 100.612016698, 0),
        (-161.340464034, 89.547199805, 0),
        (-126.016024201, 16.641681544, 3),
        (-146.823786785, 0.571403109, 3),
        (-99.553025445, 34.371188642, 3),
        (-155.077843623, 0, 3),
        (-69.372765546, 18.383413779, 3),
        (-167.071067812, 2.928932188, 3),
        (-40.351325286, 1.211100266, 3),
        (-170, 22.5, 3),
        (-16.45668018, 0, 3),
        (-175.401742682, 65.634805068, 3),
        (2.535533906, 1.464466094, 3),
        (-173.646878703, 112.903335129, 3),
        (4, 17.5, 3),
        (-99.526012112, 76.413994775, 3),
        (2.535533906, 33.535533906, 3),
        (-35.672043127, 36.244237958, 3),
        (-14.060914857, 35, 3),
        (-150.5, 8.5, 3),
        (-155.391953897, 47.17336669, 3),
        (-154.872211484, 35.587605264, 3),
        (-151.917788225, 36.108549797, 3),
        (-151.398045811, 24.52278837, 3),
        (-20.5, 8.5, 3),
        (-12, 27, 3),
        (-78.078563162, 48.734453155, 3),
        (-81.861438556, 45.615978867, 3),
        (-83.187157223, 40.878134265, 3),
        (-66.26585157, 28.27058884, 3),
        (-47.786637301, 18.143495128, 3),
        (-44.097447955, 21.143552365, 3),
        (-42.842281502, 25.747952734, 3),
        (-59.660277429, 38.467754645, 3),
        (-140.486550151, 57.66033438, 3),
        (-132.637447646, 27.309500685, 3),
        (-121.092125992, 33.472304932, 3),
        (-104.289156832, 43.768704017, 3),
        (-89.999922251, 43.952745528, 3),
        (-86.547401058, 47.584066382, 3),
        (-84.719376015, 53.066608542, 3),
        (-112.19509956, 72.739012965, 3),
        (-142.997045918, 89.237717395, 3),
        (-164.294887293, 89.026255272, 3),
        (-160.82072162, 77.961438379, 3),
        (-164.814629706, 100.612016698, 3),
        (-161.340464034, 89.547199805, 3),
    ]]
    fillet(fillet5_edges, radius=FILLET5_R)

    # Sketch4 → Cut-Extrude3 (cut)
    with BuildSketch(Plane(origin=(0, 0, 0), x_dir=(-1, 0, 0), z_dir=(0, 0, -1))):
        with Locations(Location((154.418812483, 98.109824652, 0), (0, 0, 180))):
            Circle(SKETCH4_R)
    extrude(amount=-CUT_EXTRUDE3_DEPTH, mode=Mode.SUBTRACT)

    # Fillet6
    fillet6_edges = [part.edges().sort_by_distance(p)[0] for p in [
        (-156.918812483, 98.109824652, 0),
        (-156.918812483, 98.109824652, 3),
    ]]
    fillet(fillet6_edges, radius=FILLET6_R)


solid = part.part
